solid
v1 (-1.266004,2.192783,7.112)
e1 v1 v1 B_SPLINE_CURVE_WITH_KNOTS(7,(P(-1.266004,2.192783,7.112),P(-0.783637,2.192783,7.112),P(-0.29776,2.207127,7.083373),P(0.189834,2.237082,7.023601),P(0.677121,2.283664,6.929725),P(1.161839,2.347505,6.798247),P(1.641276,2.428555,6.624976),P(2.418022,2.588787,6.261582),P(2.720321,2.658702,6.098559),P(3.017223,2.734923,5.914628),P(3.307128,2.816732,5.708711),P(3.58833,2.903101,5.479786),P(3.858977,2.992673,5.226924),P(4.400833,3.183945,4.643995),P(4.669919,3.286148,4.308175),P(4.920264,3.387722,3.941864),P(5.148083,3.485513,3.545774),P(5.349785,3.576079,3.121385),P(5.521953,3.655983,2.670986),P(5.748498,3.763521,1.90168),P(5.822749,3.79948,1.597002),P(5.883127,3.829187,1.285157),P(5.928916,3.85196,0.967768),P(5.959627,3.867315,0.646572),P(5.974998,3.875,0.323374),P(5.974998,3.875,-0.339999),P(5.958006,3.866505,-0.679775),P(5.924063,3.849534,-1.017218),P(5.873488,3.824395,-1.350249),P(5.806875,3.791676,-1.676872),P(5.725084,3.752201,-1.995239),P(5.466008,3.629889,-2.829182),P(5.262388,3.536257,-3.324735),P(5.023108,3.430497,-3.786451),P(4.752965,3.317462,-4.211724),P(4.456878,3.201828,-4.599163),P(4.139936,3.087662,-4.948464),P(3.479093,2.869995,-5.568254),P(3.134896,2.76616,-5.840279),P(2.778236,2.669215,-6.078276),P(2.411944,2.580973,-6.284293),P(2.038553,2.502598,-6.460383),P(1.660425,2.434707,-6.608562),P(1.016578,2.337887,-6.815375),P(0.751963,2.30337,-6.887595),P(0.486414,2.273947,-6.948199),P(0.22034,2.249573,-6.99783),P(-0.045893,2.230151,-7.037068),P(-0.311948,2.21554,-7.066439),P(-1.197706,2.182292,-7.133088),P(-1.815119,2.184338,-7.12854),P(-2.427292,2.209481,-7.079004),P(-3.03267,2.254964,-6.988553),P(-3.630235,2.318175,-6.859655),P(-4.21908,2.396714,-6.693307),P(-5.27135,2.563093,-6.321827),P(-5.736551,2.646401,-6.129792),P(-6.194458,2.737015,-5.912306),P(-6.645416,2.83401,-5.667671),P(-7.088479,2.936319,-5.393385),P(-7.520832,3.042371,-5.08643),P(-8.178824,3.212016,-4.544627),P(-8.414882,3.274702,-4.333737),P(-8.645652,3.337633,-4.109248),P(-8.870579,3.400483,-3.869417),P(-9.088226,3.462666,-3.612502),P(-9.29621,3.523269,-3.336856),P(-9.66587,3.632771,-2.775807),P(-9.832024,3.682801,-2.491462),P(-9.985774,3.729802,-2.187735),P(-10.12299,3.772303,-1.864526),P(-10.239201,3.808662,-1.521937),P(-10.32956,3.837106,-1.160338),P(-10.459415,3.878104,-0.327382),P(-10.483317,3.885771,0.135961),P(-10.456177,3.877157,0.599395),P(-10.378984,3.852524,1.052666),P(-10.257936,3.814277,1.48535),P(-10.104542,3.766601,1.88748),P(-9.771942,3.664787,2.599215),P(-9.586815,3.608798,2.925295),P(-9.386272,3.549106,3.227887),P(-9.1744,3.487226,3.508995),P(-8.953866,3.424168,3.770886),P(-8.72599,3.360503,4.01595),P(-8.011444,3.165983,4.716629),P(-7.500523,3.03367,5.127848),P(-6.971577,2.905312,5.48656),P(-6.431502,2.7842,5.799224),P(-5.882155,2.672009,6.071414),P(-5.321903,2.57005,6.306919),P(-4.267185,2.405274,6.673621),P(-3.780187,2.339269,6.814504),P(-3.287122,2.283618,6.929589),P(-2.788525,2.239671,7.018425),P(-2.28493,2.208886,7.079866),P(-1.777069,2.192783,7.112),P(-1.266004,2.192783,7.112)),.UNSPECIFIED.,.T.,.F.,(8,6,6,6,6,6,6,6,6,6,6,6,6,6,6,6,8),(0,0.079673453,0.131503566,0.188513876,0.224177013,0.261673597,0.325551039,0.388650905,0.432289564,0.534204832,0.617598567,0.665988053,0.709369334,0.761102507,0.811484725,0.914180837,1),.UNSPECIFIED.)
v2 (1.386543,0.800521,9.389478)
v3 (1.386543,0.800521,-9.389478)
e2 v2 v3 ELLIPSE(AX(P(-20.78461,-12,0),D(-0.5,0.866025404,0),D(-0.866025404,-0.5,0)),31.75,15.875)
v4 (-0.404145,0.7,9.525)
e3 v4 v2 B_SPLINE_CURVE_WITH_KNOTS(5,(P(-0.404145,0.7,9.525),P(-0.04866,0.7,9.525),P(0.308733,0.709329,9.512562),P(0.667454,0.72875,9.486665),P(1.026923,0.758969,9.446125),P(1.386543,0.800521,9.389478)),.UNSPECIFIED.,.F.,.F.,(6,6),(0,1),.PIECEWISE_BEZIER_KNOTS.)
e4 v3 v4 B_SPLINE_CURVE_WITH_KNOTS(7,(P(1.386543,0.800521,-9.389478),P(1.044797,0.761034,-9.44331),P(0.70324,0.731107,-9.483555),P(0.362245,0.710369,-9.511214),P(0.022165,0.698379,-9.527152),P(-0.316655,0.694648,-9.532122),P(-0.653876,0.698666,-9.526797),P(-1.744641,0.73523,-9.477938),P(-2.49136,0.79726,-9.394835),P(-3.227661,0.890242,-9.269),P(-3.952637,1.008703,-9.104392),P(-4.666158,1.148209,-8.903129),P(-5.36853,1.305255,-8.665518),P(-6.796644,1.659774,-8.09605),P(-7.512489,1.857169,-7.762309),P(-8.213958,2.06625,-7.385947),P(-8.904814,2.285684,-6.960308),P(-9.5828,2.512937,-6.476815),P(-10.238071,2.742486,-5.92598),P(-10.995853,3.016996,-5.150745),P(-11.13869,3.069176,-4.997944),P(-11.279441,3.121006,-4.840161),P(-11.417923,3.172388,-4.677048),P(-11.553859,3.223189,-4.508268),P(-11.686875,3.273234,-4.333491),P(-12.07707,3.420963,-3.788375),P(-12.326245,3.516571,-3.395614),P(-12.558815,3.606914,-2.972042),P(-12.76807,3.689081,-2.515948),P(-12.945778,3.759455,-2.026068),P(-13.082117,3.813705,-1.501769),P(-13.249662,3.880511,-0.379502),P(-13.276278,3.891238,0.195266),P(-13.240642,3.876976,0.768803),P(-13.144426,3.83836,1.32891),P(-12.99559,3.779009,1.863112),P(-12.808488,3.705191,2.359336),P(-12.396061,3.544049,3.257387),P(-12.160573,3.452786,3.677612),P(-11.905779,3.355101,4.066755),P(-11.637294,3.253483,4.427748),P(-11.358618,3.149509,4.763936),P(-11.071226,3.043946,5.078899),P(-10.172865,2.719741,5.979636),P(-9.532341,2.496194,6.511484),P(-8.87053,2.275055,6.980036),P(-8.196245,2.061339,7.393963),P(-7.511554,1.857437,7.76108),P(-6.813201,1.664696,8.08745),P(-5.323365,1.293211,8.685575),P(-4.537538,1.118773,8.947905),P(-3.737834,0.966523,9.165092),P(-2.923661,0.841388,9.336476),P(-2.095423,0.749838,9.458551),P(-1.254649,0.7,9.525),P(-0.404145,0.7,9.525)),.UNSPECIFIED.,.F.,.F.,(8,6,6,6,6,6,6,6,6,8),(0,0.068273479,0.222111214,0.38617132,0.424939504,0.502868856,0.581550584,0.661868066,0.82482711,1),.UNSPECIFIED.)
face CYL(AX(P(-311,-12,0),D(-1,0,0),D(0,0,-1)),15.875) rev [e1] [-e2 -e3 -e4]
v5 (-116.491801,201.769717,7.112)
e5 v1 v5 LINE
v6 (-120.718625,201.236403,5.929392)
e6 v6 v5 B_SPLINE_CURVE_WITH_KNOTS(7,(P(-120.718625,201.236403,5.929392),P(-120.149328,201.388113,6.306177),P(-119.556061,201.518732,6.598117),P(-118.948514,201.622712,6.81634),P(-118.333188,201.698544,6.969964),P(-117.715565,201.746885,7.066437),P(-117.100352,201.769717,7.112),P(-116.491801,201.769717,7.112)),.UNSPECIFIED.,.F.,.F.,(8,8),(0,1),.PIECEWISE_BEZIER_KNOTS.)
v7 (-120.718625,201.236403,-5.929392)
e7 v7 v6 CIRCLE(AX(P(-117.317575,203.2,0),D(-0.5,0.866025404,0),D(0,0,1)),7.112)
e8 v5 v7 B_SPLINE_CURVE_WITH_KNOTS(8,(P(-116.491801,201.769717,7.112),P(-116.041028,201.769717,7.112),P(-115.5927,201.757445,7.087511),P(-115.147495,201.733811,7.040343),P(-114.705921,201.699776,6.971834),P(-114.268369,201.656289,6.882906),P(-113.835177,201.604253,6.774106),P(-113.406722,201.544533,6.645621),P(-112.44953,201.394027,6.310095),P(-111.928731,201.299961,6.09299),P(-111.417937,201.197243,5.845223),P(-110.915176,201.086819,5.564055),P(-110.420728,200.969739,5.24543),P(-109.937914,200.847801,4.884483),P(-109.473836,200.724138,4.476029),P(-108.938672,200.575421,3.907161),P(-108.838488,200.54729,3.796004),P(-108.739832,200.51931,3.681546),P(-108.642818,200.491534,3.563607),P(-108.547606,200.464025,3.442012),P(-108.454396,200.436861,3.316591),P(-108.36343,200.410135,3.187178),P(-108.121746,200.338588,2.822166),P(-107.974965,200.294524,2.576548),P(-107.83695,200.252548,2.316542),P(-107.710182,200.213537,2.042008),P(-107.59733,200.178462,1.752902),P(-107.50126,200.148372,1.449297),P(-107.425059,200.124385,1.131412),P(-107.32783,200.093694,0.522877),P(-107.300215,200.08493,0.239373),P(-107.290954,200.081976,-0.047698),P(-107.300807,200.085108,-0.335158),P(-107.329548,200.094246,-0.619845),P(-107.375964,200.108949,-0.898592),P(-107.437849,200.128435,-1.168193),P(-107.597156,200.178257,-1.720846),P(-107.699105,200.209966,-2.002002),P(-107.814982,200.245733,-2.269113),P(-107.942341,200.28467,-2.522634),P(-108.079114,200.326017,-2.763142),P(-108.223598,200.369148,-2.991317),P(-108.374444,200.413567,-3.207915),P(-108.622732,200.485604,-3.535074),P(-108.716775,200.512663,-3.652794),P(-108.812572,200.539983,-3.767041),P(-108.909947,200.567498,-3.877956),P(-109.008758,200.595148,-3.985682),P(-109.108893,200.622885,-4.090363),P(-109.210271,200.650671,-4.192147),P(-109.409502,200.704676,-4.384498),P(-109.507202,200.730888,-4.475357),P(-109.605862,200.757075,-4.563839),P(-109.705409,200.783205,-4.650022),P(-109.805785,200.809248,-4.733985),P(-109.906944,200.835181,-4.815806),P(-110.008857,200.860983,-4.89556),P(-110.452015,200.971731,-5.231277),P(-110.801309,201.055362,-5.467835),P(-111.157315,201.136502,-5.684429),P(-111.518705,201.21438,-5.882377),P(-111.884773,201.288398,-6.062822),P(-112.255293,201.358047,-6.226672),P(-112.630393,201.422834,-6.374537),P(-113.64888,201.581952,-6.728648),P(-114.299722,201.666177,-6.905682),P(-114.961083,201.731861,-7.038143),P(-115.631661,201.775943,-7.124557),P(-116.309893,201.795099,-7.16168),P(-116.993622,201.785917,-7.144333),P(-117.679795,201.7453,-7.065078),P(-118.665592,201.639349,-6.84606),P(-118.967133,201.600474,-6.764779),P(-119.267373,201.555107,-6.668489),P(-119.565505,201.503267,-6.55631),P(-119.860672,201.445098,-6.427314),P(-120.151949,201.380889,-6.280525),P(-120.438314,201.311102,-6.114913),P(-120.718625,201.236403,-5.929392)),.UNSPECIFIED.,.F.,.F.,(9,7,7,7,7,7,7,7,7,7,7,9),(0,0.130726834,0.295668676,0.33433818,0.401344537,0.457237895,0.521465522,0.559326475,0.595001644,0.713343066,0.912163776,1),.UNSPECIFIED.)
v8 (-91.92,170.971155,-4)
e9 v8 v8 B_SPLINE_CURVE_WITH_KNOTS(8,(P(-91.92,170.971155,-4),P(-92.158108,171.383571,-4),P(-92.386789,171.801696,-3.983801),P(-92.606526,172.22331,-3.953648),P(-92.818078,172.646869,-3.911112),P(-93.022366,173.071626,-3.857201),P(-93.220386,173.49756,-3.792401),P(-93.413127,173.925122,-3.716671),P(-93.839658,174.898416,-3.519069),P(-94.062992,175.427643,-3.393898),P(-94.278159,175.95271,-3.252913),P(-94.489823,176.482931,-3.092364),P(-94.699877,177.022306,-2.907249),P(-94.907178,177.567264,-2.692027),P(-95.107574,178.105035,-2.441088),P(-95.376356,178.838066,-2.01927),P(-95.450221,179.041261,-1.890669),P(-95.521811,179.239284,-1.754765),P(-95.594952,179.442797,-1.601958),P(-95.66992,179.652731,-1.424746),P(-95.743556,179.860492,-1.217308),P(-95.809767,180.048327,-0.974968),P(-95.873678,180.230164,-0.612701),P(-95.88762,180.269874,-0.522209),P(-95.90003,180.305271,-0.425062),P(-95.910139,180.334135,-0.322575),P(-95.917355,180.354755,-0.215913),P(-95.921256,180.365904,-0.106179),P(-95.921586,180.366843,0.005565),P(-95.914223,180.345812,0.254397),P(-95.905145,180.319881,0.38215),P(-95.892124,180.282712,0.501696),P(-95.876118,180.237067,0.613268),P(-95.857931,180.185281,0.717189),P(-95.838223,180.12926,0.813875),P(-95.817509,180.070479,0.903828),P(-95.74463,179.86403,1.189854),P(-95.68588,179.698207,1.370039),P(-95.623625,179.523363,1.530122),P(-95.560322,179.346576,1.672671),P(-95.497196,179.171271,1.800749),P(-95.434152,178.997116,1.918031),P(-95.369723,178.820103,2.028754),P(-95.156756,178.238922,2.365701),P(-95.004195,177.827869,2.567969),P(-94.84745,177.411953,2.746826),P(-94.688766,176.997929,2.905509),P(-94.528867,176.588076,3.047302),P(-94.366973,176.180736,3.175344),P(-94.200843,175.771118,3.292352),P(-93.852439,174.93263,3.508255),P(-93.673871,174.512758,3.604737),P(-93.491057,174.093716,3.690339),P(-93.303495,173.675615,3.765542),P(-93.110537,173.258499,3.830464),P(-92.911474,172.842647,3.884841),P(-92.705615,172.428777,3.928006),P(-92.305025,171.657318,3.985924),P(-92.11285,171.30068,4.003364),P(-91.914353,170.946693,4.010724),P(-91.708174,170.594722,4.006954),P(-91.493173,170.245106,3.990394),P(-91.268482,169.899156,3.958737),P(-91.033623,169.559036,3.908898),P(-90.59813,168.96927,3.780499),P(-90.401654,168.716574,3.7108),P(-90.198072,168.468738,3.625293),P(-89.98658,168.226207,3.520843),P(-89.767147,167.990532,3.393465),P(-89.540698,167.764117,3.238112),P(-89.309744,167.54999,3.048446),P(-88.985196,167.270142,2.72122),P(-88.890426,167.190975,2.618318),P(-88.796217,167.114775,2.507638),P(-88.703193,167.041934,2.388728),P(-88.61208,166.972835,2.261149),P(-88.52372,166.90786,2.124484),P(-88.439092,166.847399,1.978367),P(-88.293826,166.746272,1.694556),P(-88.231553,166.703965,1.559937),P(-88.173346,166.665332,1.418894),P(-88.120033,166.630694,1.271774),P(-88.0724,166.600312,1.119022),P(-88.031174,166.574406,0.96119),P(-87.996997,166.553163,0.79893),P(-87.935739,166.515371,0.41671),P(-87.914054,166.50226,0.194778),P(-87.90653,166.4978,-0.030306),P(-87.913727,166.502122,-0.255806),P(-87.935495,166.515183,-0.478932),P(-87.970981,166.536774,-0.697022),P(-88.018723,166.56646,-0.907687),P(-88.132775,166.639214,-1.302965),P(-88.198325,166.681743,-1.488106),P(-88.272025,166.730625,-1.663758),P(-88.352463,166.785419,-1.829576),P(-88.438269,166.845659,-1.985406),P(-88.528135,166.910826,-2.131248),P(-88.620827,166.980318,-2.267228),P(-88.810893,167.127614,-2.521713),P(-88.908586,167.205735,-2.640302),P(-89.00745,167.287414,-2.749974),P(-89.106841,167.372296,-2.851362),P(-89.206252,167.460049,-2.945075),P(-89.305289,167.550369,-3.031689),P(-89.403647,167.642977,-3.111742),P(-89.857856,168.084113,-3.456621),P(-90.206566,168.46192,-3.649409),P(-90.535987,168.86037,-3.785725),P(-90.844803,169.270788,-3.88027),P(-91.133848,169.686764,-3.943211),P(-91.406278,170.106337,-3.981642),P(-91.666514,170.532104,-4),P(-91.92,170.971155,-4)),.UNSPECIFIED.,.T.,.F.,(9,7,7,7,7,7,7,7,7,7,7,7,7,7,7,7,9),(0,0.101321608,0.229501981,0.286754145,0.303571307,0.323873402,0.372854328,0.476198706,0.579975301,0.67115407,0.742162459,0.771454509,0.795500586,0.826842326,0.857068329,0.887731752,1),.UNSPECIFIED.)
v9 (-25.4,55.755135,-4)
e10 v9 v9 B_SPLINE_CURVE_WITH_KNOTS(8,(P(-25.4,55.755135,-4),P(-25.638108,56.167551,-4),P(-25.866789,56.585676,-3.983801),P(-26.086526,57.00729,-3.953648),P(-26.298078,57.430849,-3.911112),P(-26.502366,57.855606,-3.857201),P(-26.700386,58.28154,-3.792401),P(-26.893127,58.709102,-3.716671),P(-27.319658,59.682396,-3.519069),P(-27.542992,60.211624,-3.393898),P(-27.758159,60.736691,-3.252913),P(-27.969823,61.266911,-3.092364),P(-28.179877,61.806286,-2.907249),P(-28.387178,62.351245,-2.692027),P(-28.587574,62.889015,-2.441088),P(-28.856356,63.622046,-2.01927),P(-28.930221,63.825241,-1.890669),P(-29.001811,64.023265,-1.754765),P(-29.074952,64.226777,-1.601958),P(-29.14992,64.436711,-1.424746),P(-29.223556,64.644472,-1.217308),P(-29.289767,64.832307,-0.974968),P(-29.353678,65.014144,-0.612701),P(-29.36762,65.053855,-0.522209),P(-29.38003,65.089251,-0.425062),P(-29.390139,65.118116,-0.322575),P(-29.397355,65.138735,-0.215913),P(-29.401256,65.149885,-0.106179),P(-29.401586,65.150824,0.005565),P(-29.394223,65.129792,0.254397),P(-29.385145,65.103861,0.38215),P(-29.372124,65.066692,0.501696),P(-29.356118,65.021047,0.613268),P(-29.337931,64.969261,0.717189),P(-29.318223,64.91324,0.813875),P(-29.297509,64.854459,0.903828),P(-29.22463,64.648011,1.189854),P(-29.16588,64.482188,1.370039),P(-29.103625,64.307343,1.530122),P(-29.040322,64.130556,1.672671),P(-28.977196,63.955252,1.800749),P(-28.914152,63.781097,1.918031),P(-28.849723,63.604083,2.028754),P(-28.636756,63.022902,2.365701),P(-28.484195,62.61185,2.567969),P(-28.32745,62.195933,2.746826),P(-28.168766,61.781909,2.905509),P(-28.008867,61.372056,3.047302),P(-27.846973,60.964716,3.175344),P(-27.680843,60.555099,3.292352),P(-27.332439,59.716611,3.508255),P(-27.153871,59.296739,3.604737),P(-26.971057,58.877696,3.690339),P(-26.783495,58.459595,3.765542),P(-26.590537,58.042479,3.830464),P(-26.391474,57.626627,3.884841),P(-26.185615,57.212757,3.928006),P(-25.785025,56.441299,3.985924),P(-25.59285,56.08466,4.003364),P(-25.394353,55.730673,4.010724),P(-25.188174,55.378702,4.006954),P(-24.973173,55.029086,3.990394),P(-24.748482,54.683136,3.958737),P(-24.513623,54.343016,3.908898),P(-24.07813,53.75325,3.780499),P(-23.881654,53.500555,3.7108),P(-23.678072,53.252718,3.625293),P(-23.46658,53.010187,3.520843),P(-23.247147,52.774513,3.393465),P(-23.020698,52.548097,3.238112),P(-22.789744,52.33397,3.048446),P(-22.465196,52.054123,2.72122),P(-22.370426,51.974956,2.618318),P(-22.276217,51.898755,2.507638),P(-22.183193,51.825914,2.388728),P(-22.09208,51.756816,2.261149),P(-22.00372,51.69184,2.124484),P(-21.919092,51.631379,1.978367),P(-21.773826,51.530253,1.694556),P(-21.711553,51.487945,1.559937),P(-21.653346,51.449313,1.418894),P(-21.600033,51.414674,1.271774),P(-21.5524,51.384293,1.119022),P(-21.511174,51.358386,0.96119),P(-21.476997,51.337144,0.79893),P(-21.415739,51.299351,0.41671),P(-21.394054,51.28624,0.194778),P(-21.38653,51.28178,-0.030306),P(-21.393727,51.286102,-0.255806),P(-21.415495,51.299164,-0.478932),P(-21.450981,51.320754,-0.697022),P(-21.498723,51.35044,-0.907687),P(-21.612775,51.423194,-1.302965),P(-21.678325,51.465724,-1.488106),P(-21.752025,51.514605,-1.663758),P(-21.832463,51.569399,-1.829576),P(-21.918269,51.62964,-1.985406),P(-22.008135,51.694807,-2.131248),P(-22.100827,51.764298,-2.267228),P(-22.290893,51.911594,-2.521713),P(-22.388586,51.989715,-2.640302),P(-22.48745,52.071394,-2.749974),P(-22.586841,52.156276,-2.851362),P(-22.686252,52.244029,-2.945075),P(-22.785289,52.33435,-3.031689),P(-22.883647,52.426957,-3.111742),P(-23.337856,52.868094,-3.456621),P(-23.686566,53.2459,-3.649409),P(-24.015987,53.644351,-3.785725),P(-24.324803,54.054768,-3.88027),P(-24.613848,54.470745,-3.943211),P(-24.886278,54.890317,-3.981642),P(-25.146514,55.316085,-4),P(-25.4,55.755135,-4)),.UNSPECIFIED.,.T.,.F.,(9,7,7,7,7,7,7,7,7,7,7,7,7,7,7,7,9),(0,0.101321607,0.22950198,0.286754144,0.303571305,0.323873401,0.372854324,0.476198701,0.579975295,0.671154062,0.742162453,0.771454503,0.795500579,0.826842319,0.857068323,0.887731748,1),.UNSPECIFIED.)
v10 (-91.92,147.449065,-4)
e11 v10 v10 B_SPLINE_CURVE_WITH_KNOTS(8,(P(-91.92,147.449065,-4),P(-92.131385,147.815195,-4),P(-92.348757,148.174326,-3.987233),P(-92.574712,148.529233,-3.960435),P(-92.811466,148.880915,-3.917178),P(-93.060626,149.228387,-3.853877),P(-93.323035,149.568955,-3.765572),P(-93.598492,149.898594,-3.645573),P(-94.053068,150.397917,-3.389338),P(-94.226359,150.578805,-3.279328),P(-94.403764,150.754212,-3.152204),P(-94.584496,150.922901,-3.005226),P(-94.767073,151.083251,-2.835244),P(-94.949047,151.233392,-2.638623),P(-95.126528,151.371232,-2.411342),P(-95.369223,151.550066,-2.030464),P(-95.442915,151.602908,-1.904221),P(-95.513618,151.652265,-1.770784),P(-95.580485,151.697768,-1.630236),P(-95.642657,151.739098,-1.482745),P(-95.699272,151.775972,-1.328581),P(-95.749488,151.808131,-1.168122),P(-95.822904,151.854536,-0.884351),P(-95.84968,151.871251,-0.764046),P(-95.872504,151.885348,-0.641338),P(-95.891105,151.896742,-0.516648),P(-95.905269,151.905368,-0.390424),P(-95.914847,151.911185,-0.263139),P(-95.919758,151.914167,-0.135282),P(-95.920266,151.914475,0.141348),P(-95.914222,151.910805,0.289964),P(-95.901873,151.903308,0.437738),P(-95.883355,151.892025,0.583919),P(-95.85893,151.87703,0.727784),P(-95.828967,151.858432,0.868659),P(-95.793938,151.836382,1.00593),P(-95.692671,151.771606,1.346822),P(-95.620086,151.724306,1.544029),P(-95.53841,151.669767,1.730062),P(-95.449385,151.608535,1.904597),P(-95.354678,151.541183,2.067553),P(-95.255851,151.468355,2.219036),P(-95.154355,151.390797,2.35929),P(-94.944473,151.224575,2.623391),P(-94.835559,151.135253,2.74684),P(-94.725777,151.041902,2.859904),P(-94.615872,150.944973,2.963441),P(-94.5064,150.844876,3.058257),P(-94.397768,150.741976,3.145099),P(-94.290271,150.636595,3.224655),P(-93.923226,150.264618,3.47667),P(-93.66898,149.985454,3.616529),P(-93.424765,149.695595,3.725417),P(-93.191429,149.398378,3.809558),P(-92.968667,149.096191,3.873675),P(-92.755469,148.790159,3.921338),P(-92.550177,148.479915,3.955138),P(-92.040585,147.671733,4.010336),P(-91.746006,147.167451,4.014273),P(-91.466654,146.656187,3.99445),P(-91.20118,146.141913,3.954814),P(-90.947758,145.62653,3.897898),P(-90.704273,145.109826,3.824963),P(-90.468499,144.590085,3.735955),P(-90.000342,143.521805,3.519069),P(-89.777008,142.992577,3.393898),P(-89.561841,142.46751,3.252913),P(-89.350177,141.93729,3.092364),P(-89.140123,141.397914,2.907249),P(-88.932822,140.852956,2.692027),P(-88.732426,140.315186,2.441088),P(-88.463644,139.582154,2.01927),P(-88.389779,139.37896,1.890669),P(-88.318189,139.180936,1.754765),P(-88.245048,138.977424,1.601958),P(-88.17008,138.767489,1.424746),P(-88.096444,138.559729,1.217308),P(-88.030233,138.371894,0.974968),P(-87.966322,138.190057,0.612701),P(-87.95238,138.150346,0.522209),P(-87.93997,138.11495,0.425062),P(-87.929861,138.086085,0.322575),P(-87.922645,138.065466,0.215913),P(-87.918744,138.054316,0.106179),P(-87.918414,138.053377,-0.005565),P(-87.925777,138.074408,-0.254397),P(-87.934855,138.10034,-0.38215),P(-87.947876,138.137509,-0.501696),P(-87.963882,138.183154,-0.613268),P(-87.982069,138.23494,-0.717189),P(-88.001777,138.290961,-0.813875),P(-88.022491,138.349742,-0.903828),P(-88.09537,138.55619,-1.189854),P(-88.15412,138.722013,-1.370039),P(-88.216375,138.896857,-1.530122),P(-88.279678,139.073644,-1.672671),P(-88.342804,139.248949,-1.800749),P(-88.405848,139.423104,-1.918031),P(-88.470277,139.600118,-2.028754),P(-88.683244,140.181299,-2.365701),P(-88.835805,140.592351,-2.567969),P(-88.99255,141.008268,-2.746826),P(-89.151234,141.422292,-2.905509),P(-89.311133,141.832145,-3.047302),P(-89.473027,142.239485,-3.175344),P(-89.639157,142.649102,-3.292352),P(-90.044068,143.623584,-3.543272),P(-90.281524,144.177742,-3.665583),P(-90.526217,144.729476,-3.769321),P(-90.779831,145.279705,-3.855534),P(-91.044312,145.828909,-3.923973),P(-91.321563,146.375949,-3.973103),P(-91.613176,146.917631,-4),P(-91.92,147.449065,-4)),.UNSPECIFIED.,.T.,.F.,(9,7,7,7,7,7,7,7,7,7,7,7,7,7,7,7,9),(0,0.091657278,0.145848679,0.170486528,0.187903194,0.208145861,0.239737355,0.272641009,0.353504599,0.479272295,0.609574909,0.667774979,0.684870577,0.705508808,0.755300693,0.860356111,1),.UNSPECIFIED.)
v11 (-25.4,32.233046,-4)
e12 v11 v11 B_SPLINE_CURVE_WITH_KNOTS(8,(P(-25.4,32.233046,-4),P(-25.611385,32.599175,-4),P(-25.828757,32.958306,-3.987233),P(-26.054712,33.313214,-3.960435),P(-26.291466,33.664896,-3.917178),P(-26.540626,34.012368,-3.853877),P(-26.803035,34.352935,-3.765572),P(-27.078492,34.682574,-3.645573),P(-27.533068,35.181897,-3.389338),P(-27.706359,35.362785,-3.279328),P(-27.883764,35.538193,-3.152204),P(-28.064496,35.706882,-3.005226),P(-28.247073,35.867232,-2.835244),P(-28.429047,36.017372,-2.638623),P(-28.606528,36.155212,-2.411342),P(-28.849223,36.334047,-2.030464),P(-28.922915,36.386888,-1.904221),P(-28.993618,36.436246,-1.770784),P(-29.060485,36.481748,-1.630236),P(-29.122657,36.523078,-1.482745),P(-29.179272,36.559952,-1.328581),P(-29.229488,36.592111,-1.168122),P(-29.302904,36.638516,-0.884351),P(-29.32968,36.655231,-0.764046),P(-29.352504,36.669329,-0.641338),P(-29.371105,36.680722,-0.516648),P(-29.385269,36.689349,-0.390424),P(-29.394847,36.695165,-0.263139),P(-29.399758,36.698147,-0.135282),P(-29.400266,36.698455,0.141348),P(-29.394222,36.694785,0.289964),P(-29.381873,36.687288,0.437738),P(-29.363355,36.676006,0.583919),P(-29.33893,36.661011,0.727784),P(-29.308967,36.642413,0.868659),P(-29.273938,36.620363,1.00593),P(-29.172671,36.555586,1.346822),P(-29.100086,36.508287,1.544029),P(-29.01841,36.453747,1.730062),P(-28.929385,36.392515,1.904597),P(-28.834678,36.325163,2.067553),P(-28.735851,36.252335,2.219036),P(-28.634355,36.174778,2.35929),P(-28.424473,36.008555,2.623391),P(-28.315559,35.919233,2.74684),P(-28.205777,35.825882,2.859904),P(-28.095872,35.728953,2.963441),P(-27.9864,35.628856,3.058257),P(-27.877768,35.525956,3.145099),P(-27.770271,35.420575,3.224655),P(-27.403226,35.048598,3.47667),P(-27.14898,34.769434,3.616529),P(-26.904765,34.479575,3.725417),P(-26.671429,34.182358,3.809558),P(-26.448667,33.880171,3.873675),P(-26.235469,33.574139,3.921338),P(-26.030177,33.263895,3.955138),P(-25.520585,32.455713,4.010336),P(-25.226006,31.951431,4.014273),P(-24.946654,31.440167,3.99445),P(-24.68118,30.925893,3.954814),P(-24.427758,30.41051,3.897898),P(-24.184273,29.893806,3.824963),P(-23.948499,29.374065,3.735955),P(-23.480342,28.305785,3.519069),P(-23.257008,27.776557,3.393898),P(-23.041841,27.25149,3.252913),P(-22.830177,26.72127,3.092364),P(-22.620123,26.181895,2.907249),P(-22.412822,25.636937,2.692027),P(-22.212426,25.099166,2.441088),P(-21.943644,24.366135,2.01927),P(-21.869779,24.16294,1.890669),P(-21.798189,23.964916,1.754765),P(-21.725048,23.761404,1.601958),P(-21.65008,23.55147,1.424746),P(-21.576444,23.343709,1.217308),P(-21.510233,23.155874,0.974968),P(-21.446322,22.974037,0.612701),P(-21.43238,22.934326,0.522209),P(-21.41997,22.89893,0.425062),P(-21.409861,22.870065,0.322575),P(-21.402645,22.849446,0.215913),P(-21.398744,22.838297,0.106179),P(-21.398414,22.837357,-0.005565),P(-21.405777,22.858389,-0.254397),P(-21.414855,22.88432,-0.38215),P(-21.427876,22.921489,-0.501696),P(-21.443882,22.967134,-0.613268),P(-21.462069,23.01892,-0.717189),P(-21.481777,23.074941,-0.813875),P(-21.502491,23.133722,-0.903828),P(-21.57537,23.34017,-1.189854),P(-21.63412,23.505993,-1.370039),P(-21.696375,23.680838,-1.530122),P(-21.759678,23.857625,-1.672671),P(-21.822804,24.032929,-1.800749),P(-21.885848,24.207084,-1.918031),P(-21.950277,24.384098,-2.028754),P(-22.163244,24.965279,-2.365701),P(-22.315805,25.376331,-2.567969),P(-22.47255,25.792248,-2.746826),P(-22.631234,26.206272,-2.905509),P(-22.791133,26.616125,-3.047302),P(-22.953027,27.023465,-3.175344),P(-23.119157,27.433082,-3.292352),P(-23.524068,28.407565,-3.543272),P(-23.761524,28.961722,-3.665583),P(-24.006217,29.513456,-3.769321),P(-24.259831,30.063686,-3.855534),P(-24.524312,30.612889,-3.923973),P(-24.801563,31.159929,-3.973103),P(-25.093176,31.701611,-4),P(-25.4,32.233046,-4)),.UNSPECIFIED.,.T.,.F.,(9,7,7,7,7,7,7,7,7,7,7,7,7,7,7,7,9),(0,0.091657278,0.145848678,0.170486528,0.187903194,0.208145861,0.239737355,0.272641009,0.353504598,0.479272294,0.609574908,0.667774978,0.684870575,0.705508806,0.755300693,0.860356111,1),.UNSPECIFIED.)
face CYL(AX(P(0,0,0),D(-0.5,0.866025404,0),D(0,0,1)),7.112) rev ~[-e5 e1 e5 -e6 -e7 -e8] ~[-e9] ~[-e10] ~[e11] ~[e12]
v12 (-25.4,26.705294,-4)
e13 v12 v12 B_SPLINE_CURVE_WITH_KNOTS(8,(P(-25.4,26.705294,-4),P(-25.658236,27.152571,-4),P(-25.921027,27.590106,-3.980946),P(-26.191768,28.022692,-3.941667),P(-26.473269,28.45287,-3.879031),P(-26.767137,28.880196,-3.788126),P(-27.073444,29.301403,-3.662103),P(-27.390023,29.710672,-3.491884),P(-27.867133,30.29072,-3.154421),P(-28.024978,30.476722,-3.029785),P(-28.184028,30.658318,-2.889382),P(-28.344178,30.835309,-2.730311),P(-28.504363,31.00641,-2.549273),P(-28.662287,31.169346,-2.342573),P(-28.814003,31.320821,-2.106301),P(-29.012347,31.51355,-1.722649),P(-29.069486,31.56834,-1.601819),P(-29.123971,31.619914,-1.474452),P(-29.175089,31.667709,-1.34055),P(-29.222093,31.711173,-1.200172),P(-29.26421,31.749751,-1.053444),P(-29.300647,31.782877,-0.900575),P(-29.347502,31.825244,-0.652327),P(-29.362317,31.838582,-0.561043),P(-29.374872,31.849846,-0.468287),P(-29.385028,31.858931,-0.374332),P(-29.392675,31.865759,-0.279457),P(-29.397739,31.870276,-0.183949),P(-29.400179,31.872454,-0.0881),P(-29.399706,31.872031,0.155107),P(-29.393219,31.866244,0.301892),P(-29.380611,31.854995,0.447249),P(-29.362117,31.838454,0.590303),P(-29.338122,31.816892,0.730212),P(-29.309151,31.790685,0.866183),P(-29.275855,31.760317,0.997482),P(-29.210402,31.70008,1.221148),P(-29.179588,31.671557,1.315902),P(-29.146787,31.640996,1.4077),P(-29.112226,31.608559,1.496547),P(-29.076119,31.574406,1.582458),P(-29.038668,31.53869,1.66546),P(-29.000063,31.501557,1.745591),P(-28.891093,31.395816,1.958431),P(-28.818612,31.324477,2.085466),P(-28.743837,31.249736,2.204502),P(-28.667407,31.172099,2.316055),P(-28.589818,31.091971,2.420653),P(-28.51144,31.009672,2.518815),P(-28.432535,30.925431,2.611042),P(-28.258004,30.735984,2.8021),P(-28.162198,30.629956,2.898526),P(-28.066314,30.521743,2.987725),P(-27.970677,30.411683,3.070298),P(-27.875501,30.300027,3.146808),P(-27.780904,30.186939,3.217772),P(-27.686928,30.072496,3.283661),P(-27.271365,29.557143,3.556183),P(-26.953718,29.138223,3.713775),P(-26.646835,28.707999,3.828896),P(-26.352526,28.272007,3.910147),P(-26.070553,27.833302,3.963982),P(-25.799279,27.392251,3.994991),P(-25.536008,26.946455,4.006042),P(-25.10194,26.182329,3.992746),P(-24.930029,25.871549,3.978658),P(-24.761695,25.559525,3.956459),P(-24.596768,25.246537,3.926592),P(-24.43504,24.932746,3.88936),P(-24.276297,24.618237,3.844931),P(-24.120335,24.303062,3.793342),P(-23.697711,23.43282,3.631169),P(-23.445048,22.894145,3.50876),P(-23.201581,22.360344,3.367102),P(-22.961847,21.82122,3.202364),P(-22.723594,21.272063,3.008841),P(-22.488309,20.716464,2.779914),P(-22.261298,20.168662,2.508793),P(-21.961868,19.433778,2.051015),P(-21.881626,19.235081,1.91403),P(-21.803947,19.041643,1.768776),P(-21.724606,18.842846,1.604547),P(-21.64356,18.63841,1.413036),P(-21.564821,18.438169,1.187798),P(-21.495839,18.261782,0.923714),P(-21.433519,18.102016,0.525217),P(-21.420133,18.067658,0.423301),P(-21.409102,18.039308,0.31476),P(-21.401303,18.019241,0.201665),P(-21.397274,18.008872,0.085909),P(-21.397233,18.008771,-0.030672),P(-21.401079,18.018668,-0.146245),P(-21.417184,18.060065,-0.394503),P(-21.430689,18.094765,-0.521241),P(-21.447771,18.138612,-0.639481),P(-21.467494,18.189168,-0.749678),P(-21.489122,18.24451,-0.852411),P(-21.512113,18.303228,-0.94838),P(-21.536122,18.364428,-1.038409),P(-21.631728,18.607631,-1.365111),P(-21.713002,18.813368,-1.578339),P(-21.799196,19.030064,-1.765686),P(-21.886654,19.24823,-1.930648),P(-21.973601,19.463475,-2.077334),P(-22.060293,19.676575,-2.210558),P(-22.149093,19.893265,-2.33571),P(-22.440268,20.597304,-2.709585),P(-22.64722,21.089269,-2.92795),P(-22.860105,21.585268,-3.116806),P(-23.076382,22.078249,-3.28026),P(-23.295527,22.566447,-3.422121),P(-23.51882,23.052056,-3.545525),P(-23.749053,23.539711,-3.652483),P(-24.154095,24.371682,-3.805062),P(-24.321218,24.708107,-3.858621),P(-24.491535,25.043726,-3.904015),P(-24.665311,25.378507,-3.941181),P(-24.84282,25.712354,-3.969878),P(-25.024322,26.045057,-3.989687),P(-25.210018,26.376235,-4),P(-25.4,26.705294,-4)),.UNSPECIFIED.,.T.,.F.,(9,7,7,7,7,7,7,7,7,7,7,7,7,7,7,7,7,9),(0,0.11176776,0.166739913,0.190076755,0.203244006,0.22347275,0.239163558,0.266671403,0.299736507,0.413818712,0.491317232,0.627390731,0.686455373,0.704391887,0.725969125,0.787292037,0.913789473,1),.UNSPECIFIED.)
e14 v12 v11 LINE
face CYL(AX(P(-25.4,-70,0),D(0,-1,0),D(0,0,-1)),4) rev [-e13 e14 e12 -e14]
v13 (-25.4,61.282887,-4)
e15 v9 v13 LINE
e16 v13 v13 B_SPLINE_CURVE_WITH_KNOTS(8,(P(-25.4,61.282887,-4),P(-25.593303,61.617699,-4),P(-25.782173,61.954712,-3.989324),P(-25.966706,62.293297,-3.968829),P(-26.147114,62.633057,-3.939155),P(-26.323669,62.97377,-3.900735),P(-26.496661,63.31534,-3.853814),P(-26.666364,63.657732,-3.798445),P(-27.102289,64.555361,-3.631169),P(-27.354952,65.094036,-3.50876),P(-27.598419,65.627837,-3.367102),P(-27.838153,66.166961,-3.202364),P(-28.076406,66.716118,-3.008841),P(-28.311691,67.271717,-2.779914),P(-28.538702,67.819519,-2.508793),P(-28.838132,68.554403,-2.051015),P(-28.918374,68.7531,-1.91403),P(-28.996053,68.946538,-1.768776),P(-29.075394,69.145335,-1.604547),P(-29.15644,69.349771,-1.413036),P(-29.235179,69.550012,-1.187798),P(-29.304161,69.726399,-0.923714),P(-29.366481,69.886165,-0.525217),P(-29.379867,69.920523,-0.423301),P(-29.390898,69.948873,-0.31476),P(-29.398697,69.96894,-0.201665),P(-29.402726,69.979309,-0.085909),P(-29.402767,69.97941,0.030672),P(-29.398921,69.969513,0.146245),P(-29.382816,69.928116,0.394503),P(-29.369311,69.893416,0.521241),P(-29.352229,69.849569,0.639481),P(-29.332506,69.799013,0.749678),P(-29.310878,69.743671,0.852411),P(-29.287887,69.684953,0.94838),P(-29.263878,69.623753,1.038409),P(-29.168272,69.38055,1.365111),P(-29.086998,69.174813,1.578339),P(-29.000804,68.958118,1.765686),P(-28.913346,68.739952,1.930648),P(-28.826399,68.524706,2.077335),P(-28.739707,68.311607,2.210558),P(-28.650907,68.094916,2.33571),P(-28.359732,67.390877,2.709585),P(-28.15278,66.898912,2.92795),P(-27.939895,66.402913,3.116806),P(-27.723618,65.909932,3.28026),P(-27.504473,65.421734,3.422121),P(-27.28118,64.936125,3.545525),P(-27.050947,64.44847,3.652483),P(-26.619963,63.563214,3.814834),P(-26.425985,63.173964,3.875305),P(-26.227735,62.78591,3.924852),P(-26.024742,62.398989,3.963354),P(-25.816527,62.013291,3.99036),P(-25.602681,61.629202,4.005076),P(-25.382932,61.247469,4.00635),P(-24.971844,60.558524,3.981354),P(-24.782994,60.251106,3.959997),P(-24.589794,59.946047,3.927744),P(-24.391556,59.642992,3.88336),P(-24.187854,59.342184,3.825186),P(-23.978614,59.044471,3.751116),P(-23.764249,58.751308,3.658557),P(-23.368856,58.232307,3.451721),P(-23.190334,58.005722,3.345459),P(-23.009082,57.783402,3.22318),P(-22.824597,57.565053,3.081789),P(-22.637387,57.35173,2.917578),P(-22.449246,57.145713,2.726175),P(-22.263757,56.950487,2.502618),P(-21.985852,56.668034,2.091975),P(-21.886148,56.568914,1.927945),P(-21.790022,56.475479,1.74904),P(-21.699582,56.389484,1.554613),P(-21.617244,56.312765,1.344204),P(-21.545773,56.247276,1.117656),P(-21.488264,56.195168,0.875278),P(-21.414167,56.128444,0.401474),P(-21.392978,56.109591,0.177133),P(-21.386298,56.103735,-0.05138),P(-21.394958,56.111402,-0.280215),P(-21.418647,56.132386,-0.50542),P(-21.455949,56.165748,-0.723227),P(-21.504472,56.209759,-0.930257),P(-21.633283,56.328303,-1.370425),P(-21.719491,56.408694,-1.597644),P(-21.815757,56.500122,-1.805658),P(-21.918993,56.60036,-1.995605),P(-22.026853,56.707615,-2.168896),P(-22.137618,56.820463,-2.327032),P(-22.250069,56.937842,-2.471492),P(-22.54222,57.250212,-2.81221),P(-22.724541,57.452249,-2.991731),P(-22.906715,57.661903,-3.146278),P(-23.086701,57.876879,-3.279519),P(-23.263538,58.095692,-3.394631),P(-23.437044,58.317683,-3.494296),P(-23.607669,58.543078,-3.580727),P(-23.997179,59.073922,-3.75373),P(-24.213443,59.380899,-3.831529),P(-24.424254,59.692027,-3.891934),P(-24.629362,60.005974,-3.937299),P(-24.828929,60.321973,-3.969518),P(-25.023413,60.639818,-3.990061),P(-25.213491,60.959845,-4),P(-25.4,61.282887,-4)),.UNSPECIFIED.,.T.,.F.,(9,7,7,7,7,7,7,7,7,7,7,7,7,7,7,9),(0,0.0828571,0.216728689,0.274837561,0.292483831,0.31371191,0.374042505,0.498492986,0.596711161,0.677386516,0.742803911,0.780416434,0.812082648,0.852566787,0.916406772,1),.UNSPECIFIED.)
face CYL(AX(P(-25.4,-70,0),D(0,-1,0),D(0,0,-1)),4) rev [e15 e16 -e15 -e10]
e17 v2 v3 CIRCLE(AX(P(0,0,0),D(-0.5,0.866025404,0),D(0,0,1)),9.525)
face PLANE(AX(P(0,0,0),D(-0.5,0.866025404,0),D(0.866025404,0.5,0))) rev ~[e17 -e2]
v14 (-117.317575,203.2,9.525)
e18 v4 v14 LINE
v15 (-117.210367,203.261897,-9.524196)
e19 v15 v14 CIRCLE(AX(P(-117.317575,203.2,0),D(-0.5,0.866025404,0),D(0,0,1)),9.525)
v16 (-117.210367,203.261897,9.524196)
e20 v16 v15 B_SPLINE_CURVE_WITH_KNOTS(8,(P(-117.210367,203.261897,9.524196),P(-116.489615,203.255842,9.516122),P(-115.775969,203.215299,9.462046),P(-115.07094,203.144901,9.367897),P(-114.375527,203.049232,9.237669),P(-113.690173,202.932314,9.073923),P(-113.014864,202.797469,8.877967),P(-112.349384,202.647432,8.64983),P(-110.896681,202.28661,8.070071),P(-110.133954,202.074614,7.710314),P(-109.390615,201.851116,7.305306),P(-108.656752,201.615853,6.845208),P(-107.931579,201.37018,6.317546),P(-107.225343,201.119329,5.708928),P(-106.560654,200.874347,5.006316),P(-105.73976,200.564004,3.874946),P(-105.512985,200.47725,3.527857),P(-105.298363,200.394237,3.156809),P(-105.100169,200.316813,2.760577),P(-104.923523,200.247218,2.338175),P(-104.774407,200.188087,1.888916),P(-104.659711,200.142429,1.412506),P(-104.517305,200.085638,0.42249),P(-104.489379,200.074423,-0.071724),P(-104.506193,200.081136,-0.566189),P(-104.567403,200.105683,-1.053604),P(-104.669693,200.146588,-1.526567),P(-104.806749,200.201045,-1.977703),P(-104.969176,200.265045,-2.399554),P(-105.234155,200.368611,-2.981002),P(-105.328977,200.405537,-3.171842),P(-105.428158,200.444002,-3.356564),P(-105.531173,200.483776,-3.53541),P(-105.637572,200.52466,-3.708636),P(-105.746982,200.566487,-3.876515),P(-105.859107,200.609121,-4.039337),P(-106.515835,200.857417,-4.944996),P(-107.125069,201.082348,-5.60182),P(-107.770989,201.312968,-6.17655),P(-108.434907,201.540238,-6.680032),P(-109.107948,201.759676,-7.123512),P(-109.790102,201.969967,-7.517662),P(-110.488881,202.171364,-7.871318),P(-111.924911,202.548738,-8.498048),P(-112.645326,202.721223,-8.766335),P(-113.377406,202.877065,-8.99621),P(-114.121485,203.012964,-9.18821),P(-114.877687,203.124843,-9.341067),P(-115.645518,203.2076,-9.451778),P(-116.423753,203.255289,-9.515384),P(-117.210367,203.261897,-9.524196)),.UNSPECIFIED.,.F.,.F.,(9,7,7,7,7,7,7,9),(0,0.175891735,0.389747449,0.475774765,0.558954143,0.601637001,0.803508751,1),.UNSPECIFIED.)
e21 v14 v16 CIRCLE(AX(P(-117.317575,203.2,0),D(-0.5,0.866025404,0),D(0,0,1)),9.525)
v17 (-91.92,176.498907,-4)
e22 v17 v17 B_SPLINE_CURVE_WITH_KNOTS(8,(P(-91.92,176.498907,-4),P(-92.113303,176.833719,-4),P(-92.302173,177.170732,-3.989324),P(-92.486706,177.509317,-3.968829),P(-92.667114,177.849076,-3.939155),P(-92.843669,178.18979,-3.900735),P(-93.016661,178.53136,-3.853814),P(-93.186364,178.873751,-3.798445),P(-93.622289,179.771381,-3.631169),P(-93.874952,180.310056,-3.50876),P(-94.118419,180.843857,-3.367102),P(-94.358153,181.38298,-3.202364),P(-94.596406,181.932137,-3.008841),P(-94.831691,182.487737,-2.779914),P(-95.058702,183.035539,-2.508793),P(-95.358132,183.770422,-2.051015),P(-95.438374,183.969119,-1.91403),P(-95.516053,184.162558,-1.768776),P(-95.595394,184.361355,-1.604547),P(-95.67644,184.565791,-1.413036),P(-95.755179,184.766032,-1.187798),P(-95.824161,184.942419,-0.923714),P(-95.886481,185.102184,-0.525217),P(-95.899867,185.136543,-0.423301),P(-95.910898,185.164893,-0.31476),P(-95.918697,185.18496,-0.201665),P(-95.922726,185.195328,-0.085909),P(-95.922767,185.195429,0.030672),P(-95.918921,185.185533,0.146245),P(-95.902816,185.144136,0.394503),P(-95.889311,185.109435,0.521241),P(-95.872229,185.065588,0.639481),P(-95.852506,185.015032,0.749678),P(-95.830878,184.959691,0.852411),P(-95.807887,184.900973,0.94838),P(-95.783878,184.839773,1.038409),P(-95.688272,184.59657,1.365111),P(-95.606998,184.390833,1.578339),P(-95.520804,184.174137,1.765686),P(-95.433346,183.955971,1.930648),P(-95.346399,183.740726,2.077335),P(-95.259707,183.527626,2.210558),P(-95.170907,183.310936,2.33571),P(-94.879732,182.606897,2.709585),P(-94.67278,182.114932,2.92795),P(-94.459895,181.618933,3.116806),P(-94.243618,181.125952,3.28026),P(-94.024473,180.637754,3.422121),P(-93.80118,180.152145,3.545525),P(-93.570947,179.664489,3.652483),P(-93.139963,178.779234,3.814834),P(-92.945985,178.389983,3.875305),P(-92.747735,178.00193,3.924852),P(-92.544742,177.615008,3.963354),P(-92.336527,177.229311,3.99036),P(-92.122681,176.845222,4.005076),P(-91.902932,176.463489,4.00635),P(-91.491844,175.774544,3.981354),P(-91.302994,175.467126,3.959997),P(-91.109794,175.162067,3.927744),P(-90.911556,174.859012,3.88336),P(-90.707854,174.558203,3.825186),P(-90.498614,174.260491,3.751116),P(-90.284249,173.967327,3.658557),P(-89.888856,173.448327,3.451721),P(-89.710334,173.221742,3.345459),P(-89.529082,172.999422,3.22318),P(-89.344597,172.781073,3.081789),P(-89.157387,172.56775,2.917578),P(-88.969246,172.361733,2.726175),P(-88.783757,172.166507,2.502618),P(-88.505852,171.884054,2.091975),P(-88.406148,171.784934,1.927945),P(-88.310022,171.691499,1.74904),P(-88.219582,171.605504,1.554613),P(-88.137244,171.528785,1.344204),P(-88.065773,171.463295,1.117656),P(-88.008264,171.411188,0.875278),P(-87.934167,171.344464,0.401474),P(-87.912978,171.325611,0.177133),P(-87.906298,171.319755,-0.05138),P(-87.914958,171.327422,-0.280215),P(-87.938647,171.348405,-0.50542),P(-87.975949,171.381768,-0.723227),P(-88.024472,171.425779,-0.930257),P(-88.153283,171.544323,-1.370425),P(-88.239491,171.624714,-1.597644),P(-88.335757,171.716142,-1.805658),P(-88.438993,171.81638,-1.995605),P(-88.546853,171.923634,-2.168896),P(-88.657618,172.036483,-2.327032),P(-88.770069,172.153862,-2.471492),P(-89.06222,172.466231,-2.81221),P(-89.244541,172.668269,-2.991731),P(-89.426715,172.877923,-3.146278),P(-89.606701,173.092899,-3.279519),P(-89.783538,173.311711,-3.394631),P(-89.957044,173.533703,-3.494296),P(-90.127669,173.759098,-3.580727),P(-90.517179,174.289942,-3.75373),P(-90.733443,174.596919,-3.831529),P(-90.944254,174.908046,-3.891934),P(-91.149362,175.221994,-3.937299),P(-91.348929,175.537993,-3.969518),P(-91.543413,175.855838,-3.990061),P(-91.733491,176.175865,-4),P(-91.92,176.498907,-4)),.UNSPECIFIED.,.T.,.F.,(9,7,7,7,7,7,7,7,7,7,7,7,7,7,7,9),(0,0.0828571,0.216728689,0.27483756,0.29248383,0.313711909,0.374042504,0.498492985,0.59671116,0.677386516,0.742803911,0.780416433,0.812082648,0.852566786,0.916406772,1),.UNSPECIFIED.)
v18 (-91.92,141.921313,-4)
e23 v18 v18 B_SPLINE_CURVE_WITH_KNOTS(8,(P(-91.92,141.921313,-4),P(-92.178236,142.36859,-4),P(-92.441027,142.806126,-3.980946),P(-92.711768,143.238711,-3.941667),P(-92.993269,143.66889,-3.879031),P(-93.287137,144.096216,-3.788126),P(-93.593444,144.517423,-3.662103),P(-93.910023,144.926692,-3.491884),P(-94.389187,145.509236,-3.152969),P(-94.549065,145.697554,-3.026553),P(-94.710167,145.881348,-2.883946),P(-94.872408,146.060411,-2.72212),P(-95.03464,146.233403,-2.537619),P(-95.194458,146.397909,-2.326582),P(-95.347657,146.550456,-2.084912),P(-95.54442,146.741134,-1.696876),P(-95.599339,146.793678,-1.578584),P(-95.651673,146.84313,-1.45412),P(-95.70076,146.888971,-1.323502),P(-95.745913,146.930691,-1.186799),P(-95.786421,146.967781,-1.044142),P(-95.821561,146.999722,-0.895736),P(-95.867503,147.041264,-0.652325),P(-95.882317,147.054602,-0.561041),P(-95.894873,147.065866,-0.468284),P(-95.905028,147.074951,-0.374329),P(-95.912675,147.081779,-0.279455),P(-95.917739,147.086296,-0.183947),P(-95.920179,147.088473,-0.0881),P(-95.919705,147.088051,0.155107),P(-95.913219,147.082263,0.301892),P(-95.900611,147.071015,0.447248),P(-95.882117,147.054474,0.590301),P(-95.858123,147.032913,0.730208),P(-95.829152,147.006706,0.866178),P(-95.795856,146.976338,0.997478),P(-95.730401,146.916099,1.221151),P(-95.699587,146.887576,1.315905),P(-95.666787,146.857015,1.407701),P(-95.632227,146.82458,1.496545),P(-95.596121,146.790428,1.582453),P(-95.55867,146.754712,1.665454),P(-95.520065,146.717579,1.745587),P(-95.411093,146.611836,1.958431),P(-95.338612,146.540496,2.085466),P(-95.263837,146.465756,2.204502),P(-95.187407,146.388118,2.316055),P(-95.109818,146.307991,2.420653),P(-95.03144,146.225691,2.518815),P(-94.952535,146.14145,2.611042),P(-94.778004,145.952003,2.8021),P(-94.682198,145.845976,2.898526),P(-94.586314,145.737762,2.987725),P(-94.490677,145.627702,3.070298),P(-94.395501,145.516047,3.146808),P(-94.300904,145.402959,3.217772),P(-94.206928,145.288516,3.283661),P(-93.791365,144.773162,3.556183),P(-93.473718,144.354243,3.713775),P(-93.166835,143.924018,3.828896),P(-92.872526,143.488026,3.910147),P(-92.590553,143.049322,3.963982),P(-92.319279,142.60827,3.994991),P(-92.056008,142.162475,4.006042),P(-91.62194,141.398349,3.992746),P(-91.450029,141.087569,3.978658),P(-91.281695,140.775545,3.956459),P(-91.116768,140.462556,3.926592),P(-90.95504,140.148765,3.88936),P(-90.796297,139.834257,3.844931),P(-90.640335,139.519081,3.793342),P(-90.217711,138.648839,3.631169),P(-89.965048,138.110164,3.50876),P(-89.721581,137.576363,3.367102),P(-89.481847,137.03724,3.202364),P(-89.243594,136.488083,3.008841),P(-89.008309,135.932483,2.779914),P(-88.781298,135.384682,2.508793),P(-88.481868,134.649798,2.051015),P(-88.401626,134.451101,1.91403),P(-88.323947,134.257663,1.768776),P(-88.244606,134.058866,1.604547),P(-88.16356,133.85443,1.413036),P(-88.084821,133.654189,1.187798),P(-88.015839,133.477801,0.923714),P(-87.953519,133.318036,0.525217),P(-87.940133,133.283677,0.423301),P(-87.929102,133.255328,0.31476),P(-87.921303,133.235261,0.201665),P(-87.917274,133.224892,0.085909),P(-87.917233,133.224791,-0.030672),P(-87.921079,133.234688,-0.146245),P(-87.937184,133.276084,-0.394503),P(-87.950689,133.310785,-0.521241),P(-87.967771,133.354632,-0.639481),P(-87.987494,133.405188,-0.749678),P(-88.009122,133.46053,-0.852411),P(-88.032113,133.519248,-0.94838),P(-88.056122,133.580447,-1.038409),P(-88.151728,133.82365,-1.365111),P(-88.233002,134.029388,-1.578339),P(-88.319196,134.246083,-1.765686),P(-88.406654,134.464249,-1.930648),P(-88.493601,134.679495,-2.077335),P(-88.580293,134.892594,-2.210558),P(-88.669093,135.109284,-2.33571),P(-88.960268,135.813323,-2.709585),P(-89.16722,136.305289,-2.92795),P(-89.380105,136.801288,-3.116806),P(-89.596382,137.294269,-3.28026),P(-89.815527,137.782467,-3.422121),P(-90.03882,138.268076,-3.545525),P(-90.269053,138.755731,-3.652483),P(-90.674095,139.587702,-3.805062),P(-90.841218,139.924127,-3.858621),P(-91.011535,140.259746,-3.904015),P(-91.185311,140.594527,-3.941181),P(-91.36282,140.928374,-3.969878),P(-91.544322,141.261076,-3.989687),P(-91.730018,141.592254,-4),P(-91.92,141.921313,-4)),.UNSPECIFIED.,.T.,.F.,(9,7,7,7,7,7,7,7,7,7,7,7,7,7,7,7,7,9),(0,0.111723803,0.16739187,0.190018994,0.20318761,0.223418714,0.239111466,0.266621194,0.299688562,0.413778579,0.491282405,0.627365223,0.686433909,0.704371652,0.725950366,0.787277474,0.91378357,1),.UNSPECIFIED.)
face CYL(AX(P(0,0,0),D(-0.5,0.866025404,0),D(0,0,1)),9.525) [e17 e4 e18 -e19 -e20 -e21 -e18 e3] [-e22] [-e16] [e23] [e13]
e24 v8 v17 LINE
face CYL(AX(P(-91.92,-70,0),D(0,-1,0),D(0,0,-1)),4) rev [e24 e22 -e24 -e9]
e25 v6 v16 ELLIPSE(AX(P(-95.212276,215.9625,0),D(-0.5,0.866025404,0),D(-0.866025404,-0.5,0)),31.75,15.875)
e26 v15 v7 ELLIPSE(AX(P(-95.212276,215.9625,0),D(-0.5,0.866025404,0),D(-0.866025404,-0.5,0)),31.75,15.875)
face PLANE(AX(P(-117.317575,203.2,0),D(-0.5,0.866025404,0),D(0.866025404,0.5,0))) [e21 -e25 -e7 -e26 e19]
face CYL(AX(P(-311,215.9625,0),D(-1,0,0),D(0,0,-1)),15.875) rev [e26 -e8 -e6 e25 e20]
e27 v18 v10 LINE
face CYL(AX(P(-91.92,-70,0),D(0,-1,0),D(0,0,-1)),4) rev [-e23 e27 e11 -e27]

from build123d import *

# Parameters (mm, degrees)
SKETCH2_R               = 9.525
SKETCH2_R_2             = 7.112
CUT_EXTRUDE2_DEPTH      = 542
CUT_EXTRUDE2_DEPTH_BACK = 70
SKETCH4_R               = 4
CUT_EXTRUDE3_DEPTH      = 105
CUT_EXTRUDE3_DEPTH_BACK = 311
SKETCH5_R               = 15.875


with BuildPart() as part:
    # Sweep1: sweep along a path in Sketch1
    with BuildLine(Plane.XY) as sweep1_path:
        Line((0, 0), (-117.317574699, 203.2))
    # Sketch2 → Sweep1 (sweep)
    with BuildSketch(Plane(origin=(0, 0, 0), x_dir=(0, 0, 1), z_dir=(-0.5000000000000041, 0.8660254037844362, 0))):
        Circle(SKETCH2_R)
        Circle(SKETCH2_R_2, mode=Mode.SUBTRACT)
    sweep(path=sweep1_path.line)

    # Sketch4 → Cut-Extrude2 (cut, two sides: drawn at the far end of the back side and taken through both)
    with BuildSketch(Plane(origin=(0, 0, 0), x_dir=(1, 0, 0), z_dir=(0, 1, 0)).offset(-CUT_EXTRUDE2_DEPTH_BACK)):
        with Locations(Location((-25.4, 0, 0), (0, 0, 90))):
            Circle(SKETCH4_R)
        with Locations(Location((-91.92, 0, 0), (0, 0, 90))):
            Circle(SKETCH4_R)
    extrude(amount=CUT_EXTRUDE2_DEPTH + CUT_EXTRUDE2_DEPTH_BACK, mode=Mode.SUBTRACT)

    # Sketch5 → Cut-Extrude3 (cut, two sides: drawn at the far end of the back side and taken through both)
    with BuildSketch(Plane(origin=(0, 0, 0), x_dir=(0, 0, -1), z_dir=(1, 0, 0)).offset(-CUT_EXTRUDE3_DEPTH_BACK)):
        with Locations((0, -12)):
            Circle(SKETCH5_R)
        with Locations((0, 215.9625)):
            Circle(SKETCH5_R)
    extrude(amount=CUT_EXTRUDE3_DEPTH + CUT_EXTRUDE3_DEPTH_BACK, mode=Mode.SUBTRACT)


solid = part.part
